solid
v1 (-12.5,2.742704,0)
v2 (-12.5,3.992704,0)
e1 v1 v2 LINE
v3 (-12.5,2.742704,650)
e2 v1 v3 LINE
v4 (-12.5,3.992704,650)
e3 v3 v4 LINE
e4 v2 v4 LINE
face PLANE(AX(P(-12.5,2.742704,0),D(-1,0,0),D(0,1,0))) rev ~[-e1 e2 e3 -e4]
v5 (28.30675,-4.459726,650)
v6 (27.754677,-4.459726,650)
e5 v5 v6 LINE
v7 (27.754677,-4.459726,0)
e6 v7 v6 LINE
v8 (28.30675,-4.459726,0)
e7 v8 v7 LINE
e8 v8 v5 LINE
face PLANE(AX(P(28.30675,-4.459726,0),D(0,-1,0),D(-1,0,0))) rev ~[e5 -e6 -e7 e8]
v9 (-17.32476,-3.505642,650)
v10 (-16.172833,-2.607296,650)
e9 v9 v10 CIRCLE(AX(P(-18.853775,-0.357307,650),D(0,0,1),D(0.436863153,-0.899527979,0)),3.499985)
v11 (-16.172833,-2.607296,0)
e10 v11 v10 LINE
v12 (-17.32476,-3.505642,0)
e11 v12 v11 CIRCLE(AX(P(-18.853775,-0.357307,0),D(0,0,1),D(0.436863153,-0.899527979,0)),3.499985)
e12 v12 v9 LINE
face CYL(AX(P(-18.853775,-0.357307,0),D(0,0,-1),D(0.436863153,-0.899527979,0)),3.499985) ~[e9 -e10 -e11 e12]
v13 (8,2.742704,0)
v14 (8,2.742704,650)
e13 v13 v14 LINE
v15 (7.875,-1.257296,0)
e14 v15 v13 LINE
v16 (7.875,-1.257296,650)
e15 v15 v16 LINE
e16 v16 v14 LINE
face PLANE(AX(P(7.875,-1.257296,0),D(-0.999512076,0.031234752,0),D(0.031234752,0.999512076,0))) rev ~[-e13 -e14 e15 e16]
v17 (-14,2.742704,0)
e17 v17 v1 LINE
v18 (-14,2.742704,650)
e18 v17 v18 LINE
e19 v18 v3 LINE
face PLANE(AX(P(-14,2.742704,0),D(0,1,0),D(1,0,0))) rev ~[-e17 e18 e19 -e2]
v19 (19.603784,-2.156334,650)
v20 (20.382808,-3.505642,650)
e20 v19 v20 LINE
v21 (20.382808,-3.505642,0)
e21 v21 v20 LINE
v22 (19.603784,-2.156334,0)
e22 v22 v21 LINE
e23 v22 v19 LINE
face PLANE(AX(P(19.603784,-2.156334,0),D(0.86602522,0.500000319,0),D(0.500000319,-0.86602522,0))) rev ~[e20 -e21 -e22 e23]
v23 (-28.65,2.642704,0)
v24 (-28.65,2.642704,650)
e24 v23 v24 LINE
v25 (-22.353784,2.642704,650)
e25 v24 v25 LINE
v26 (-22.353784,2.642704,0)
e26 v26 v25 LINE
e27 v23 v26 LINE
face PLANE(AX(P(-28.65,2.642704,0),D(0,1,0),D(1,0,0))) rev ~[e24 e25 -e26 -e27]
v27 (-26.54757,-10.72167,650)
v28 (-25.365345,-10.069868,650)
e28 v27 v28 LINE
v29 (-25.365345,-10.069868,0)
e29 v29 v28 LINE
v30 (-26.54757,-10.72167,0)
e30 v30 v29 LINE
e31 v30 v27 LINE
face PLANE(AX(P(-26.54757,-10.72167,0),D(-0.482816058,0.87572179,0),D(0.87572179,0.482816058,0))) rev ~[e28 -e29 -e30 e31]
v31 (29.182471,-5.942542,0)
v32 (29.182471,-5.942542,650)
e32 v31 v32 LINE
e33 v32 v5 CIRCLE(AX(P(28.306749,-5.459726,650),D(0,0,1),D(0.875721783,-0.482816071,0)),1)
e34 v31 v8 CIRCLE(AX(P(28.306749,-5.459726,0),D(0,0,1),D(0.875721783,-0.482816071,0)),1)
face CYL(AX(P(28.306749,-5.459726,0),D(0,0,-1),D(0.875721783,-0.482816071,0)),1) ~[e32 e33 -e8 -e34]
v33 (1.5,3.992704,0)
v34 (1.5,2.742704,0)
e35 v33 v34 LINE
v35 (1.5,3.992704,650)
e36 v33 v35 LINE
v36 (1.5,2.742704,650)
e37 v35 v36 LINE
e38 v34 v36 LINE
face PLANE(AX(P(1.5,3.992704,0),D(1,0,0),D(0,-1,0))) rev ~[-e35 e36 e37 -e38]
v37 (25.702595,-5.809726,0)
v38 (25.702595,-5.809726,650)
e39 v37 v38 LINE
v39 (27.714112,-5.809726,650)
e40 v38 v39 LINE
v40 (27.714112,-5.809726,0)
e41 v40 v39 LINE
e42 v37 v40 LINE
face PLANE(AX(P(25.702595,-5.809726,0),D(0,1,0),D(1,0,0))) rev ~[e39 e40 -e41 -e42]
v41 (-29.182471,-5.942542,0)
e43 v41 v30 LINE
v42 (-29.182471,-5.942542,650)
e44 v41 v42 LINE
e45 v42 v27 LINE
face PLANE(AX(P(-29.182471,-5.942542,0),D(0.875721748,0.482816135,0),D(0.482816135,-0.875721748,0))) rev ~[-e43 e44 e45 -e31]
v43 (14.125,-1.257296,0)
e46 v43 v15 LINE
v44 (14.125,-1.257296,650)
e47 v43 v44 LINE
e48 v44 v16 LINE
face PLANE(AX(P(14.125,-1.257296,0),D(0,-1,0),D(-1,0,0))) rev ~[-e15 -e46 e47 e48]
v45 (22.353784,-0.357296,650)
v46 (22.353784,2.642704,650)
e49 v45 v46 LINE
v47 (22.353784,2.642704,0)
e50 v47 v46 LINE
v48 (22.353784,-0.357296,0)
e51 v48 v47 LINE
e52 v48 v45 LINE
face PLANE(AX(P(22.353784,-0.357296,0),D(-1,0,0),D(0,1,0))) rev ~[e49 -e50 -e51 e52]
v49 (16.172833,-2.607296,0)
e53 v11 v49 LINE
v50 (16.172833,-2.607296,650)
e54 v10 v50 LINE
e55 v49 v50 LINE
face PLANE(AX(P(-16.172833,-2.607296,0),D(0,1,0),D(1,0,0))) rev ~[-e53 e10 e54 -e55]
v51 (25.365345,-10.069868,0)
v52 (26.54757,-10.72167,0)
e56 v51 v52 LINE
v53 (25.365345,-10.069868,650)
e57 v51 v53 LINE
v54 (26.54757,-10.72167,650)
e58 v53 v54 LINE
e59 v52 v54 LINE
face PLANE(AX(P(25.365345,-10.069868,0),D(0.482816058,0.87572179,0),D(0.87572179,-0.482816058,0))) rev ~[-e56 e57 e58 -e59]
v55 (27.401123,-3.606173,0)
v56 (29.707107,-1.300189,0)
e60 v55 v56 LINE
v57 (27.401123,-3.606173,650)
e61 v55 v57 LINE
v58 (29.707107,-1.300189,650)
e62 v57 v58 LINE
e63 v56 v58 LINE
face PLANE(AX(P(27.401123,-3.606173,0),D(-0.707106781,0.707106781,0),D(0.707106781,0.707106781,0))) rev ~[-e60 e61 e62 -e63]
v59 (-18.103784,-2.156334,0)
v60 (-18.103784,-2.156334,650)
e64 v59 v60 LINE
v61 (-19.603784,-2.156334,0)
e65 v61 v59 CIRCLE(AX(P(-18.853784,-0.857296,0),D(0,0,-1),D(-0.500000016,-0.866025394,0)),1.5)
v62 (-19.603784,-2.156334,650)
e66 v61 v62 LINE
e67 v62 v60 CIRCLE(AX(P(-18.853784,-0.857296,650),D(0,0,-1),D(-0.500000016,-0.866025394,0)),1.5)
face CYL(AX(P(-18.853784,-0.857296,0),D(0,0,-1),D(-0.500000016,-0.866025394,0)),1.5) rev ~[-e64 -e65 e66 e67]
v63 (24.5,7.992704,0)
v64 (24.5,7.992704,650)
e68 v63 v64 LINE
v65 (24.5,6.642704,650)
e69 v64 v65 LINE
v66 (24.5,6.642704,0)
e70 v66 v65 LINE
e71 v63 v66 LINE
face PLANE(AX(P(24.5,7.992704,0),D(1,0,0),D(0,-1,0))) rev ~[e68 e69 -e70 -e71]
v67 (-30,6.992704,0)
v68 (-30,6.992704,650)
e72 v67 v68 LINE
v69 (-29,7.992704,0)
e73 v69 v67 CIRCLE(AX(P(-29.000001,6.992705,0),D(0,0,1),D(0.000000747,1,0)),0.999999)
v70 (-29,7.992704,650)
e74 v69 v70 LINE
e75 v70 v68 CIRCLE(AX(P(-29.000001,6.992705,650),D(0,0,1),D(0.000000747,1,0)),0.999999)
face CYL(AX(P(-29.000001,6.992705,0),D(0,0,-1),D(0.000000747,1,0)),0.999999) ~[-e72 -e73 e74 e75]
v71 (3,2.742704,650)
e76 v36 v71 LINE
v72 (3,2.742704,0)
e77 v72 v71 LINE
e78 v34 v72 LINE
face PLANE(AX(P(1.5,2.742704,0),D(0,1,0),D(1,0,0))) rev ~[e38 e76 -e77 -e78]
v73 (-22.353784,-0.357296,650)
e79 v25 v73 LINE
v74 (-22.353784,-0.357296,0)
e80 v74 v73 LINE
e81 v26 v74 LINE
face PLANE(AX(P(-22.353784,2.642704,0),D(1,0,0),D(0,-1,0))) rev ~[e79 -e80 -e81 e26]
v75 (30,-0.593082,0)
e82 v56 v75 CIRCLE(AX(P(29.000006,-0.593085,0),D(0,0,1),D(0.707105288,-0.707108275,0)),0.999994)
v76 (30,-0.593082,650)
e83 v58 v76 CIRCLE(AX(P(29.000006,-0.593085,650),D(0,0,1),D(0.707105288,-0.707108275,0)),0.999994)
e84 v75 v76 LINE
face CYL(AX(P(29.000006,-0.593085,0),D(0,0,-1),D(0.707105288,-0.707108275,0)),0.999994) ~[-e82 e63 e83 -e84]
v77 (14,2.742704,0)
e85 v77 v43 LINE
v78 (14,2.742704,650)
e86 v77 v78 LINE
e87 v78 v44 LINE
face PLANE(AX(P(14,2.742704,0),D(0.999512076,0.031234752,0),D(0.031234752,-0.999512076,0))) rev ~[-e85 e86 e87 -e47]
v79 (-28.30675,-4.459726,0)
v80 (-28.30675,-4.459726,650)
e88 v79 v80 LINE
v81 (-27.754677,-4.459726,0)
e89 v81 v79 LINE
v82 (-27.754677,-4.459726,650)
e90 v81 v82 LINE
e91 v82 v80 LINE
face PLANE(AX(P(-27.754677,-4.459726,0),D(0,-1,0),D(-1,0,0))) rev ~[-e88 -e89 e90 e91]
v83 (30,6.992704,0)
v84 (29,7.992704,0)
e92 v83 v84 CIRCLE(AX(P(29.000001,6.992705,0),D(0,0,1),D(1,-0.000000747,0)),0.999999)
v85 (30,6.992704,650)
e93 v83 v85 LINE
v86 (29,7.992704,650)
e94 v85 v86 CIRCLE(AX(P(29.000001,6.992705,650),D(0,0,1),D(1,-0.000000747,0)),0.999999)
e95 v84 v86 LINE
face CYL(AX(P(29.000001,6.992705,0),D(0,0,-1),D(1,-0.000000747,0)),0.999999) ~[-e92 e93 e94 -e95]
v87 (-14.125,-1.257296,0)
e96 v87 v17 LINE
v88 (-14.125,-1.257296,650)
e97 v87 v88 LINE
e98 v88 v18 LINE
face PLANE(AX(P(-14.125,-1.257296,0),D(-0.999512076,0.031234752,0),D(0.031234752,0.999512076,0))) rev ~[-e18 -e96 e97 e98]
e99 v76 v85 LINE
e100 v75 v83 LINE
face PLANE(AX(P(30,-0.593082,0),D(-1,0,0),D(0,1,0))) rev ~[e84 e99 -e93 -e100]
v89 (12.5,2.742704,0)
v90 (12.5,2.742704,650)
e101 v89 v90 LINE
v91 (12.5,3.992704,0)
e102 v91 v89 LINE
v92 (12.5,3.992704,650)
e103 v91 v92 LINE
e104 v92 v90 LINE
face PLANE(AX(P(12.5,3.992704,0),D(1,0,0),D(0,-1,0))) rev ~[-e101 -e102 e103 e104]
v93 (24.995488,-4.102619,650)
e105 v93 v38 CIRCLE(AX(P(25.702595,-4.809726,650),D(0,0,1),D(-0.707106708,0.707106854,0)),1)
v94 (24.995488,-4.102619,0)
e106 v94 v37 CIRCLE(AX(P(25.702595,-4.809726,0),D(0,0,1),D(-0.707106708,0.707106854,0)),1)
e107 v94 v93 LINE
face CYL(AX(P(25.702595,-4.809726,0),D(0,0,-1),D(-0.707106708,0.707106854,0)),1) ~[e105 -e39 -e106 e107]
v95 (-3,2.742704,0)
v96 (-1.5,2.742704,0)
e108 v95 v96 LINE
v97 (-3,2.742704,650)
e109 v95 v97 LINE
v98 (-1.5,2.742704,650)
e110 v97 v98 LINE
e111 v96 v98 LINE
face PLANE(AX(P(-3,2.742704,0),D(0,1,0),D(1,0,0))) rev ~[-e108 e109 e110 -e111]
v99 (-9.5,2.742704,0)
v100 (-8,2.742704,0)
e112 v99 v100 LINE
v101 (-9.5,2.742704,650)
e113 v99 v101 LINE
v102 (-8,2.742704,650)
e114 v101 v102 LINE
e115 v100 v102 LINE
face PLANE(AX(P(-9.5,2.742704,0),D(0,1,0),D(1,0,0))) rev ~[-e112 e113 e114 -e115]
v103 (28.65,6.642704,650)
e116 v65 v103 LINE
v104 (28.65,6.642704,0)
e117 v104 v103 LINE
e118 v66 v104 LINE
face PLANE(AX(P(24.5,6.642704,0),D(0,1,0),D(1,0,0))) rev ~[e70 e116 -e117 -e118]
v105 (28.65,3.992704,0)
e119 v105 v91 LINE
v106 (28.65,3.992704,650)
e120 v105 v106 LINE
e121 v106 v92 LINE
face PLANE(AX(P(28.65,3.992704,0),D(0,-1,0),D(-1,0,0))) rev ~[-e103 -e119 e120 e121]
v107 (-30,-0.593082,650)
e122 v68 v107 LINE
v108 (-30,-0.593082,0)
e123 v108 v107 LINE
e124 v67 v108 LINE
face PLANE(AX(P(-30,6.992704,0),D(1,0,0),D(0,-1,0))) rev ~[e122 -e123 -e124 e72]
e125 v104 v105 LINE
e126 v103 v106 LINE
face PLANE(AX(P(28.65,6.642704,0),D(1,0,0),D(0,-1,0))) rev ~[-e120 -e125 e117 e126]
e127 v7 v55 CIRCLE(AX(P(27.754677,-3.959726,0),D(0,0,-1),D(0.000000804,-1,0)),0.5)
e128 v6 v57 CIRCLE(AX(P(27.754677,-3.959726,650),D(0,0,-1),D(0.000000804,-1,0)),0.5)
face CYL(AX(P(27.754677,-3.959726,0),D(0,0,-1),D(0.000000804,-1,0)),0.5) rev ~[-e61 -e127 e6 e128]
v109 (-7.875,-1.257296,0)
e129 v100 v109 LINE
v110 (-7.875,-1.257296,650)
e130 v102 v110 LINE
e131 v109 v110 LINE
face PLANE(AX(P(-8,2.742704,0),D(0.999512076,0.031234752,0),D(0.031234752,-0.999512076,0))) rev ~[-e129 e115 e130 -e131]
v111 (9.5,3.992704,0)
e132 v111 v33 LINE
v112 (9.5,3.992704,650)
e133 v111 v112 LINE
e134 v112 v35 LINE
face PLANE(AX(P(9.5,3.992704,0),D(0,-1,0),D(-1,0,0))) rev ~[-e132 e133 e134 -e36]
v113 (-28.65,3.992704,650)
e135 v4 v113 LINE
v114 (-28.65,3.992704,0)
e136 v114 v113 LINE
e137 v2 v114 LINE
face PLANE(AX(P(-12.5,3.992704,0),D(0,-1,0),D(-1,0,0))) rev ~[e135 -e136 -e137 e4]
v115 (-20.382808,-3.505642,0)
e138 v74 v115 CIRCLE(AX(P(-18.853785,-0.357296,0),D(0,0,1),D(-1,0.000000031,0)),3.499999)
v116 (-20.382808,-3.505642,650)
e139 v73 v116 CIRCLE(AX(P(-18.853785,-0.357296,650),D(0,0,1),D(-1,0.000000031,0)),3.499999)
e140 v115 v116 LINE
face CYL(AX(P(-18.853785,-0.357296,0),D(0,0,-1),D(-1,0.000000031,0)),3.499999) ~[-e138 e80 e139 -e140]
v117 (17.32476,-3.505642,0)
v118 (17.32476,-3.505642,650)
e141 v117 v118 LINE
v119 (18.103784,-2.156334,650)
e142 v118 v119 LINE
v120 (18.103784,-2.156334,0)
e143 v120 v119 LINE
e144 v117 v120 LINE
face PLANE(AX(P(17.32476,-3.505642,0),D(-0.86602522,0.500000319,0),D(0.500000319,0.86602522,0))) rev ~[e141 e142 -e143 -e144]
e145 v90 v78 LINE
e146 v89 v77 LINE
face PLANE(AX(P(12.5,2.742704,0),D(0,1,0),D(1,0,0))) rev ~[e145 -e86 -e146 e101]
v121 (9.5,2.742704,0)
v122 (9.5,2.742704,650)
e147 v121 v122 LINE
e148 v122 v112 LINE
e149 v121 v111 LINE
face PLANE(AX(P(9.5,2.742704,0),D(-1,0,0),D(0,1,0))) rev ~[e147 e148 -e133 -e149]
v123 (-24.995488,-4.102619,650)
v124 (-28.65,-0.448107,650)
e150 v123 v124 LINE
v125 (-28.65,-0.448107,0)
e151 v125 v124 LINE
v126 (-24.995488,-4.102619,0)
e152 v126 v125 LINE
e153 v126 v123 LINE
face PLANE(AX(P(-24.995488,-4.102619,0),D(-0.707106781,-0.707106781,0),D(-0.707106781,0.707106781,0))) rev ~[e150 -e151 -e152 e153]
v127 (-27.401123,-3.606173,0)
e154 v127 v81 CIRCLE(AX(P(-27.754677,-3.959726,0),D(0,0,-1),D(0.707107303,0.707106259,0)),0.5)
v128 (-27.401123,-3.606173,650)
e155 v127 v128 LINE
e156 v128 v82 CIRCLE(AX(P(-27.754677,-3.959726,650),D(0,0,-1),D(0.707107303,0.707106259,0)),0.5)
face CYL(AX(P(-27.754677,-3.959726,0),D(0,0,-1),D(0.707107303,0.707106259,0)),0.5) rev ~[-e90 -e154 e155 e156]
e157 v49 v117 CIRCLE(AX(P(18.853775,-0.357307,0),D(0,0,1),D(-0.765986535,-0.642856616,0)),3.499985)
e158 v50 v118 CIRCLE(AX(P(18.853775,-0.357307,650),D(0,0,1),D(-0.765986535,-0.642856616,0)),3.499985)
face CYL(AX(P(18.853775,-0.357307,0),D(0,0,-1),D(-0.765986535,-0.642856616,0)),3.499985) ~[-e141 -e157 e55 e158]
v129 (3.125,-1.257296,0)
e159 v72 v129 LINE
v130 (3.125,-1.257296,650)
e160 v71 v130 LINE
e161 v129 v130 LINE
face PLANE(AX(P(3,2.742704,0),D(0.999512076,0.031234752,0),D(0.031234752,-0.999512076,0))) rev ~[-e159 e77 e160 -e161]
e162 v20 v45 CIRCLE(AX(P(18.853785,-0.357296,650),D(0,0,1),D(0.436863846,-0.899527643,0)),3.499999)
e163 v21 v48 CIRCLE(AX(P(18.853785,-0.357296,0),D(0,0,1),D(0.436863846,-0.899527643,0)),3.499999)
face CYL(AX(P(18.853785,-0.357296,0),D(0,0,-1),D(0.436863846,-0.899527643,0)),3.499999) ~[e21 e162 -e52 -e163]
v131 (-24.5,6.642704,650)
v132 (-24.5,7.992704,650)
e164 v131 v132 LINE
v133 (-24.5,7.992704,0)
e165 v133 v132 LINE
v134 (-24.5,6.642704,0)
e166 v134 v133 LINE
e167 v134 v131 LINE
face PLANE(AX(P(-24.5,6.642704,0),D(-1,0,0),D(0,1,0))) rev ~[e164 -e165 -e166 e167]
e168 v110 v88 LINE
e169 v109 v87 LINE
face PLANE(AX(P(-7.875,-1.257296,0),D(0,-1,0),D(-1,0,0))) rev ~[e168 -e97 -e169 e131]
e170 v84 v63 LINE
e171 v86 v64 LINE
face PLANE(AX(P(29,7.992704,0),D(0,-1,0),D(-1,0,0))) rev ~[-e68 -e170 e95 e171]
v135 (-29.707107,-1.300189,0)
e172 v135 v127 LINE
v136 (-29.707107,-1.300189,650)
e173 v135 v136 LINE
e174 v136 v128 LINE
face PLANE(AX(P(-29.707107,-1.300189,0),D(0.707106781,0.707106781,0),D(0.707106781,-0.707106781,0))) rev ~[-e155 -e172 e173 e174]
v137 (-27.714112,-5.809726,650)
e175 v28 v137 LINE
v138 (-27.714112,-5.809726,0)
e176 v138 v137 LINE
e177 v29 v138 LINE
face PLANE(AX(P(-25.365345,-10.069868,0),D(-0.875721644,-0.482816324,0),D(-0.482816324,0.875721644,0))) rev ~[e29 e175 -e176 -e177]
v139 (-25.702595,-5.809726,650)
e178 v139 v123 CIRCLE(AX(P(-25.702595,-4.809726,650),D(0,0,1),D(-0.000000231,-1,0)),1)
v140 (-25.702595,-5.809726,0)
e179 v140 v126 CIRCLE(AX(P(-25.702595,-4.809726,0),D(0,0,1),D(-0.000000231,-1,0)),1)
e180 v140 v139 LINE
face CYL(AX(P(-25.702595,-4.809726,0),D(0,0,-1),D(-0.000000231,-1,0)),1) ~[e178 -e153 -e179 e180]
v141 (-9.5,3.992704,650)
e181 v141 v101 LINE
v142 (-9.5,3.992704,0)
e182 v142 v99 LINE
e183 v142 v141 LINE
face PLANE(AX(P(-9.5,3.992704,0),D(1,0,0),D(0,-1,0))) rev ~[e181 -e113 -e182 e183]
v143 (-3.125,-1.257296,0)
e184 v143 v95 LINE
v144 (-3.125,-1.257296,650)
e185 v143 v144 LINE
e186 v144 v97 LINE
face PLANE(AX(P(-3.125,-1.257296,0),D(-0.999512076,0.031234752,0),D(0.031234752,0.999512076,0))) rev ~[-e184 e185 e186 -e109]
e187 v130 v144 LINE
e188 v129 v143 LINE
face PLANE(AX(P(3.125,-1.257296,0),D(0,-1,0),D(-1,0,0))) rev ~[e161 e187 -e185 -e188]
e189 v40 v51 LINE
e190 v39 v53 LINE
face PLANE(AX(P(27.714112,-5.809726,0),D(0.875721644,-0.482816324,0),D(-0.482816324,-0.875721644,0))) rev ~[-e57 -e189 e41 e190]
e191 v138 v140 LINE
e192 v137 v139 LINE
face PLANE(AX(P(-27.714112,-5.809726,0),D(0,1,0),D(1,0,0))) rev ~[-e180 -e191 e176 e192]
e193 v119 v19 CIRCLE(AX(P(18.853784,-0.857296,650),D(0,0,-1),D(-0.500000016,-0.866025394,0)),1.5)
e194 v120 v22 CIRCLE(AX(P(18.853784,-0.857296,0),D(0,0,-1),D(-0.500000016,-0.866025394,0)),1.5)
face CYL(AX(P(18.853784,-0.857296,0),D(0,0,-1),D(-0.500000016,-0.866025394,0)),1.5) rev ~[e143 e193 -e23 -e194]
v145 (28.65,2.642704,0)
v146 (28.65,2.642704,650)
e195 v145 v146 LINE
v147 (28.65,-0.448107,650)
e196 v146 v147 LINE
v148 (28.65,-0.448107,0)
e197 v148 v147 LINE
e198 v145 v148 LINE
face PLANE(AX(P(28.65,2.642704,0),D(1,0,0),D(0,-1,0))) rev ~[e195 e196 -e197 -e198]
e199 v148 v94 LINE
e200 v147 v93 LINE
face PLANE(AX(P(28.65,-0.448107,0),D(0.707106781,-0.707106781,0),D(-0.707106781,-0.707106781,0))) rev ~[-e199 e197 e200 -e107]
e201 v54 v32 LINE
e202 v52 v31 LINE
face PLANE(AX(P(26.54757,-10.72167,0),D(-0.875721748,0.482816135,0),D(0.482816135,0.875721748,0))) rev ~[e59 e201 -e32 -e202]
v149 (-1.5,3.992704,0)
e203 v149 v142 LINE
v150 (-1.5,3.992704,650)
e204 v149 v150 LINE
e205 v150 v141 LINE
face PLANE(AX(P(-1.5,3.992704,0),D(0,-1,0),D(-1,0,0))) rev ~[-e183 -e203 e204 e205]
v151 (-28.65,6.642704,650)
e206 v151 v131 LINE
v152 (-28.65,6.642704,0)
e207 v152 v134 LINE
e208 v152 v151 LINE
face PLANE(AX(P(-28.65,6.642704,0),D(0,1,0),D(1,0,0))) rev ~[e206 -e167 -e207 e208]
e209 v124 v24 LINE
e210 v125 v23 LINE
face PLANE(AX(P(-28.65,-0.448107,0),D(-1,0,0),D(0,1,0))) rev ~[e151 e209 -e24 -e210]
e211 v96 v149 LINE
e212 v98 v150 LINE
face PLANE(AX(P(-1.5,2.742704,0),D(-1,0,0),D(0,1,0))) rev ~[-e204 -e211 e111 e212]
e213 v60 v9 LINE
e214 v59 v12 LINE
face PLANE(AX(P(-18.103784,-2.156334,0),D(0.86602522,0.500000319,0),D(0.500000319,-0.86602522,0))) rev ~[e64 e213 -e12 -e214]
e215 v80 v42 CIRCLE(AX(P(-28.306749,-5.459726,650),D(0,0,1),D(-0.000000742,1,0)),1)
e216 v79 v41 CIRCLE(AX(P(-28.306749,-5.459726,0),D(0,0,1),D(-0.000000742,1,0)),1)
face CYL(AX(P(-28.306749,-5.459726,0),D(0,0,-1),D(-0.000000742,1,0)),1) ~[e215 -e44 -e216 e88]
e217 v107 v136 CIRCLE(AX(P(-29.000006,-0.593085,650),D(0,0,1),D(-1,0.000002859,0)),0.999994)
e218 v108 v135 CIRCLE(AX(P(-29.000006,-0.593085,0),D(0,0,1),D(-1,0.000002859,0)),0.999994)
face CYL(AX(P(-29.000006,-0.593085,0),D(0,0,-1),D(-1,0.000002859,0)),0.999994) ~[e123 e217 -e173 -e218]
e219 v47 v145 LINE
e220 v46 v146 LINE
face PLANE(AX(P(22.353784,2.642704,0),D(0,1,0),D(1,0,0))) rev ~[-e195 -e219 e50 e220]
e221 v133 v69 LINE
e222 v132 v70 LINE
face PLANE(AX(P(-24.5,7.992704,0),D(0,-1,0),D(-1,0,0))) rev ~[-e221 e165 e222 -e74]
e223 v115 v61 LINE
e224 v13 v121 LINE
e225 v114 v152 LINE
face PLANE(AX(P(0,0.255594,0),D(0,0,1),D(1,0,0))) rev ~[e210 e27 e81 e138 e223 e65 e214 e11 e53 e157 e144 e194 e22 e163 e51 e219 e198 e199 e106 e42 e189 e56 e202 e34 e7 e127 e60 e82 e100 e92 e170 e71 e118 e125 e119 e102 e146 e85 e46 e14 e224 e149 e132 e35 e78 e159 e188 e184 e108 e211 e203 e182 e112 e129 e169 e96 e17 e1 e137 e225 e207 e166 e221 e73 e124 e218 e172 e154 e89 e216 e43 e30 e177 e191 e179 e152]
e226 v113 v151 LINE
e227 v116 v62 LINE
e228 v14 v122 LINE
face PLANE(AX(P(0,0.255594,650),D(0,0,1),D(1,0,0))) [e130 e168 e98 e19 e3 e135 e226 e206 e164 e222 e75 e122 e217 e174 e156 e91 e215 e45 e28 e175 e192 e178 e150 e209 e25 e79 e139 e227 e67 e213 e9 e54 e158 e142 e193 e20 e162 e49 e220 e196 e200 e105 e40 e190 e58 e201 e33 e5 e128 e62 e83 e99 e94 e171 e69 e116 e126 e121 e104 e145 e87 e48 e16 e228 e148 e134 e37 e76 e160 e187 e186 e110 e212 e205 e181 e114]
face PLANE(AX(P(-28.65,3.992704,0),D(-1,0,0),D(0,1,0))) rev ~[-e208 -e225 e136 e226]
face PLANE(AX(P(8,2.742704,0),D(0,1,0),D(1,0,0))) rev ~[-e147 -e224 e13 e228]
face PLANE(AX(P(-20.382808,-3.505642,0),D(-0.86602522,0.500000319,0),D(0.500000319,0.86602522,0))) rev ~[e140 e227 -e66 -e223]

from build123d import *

# Parameters (mm, degrees)
F1_DEPTH = 650


with BuildPart() as f1:
    # F0 (on Top) → F1 (new body)
    with BuildSketch(Plane.XY):
        with BuildLine():
            Line((-16.172833, -2.607296), (16.172833, -2.607296))
            ThreePointArc((16.172833, -2.607296), (16.701406, -3.117236), (17.32476, -3.505642))
            Line((17.32476, -3.505642), (18.103784, -2.156334))
            ThreePointArc((18.103784, -2.156334), (18.853784, 0.642704), (19.603784, -2.156334))
            Line((19.603784, -2.156334), (20.382808, -3.505642))
            ThreePointArc((20.382808, -3.505642), (21.820397, -2.2145), (22.353784, -0.357296))
            Line((22.353784, -0.357296), (22.353784, 2.642704))
            Line((22.353784, 2.642704), (28.65, 2.642704))
            Line((28.65, 2.642704), (28.65, -0.448107))
            Line((28.65, -0.448107), (24.995488, -4.102619))
            ThreePointArc((24.995488, -4.102619), (24.778715, -5.192409), (25.702595, -5.809726))
            Line((25.702595, -5.809726), (27.714112, -5.809726))
            Line((27.714112, -5.809726), (25.365345, -10.069868))
            Line((25.365345, -10.069868), (26.54757, -10.72167))
            Line((26.54757, -10.72167), (29.182471, -5.942542))
            ThreePointArc((29.182471, -5.942542), (29.1678, -4.951207), (28.30675, -4.459726))
            Line((28.30675, -4.459726), (27.754677, -4.459726))
            ThreePointArc((27.754677, -4.459726), (27.292737, -4.151068), (27.401123, -3.606173))
            Line((27.401123, -3.606173), (29.707107, -1.300189))
            ThreePointArc((29.707107, -1.300189), (29.92388, -0.975766), (30, -0.593082))
            Line((30, -0.593082), (30, 6.992704))
            ThreePointArc((30, 6.992704), (29.707107, 7.699811), (29, 7.992704))
            Line((29, 7.992704), (24.5, 7.992704))
            Line((24.5, 7.992704), (24.5, 6.642704))
            Line((24.5, 6.642704), (28.65, 6.642704))
            Line((28.65, 6.642704), (28.65, 3.992704))
            Line((28.65, 3.992704), (12.5, 3.992704))
            Line((12.5, 3.992704), (12.5, 2.742704))
            Line((12.5, 2.742704), (14, 2.742704))
            Line((14, 2.742704), (14.125, -1.257296))
            Line((14.125, -1.257296), (7.875, -1.257296))
            Line((7.875, -1.257296), (8, 2.742704))
            Line((8, 2.742704), (9.5, 2.742704))
            Line((9.5, 2.742704), (9.5, 3.992704))
            Line((9.5, 3.992704), (1.5, 3.992704))
            Line((1.5, 3.992704), (1.5, 2.742704))
            Line((1.5, 2.742704), (3, 2.742704))
            Line((3, 2.742704), (3.125, -1.257296))
            Line((3.125, -1.257296), (-3.125, -1.257296))
            Line((-3.125, -1.257296), (-3, 2.742704))
            Line((-3, 2.742704), (-1.5, 2.742704))
            Line((-1.5, 2.742704), (-1.5, 3.992704))
            Line((-1.5, 3.992704), (-9.5, 3.992704))
            Line((-9.5, 3.992704), (-9.5, 2.742704))
            Line((-9.5, 2.742704), (-8, 2.742704))
            Line((-8, 2.742704), (-7.875, -1.257296))
            Line((-7.875, -1.257296), (-14.125, -1.257296))
            Line((-14.125, -1.257296), (-14, 2.742704))
            Line((-14, 2.742704), (-12.5, 2.742704))
            Line((-12.5, 2.742704), (-12.5, 3.992704))
            Line((-12.5, 3.992704), (-28.65, 3.992704))
            Line((-28.65, 3.992704), (-28.65, 6.642704))
            Line((-28.65, 6.642704), (-24.5, 6.642704))
            Line((-24.5, 6.642704), (-24.5, 7.992704))
            Line((-24.5, 7.992704), (-29, 7.992704))
            ThreePointArc((-29, 7.992704), (-29.707107, 7.699811), (-30, 6.992704))
            Line((-30, 6.992704), (-30, -0.593082))
            ThreePointArc((-30, -0.593082), (-29.92388, -0.975766), (-29.707107, -1.300189))
            Line((-29.707107, -1.300189), (-27.401123, -3.606173))
            ThreePointArc((-27.401123, -3.606173), (-27.292737, -4.151068), (-27.754677, -4.459726))
            Line((-27.754677, -4.459726), (-28.30675, -4.459726))
            ThreePointArc((-28.30675, -4.459726), (-29.1678, -4.951207), (-29.182471, -5.942542))
            Line((-29.182471, -5.942542), (-26.54757, -10.72167))
            Line((-26.54757, -10.72167), (-25.365345, -10.069868))
            Line((-25.365345, -10.069868), (-27.714112, -5.809726))
            Line((-27.714112, -5.809726), (-25.702595, -5.809726))
            ThreePointArc((-25.702595, -5.809726), (-24.778715, -5.192409), (-24.995488, -4.102619))
            Line((-24.995488, -4.102619), (-28.65, -0.448107))
            Line((-28.65, -0.448107), (-28.65, 2.642704))
            Line((-28.65, 2.642704), (-22.353784, 2.642704))
            Line((-22.353784, 2.642704), (-22.353784, -0.357296))
            ThreePointArc((-22.353784, -0.357296), (-21.820397, -2.2145), (-20.382808, -3.505642))
            Line((-20.382808, -3.505642), (-19.603784, -2.156334))
            ThreePointArc((-19.603784, -2.156334), (-18.853784, 0.642704), (-18.103784, -2.156334))
            Line((-18.103784, -2.156334), (-17.32476, -3.505642))
            ThreePointArc((-17.32476, -3.505642), (-16.701406, -3.117236), (-16.172833, -2.607296))
        make_face()
    extrude(amount=F1_DEPTH)


solid = f1.part
